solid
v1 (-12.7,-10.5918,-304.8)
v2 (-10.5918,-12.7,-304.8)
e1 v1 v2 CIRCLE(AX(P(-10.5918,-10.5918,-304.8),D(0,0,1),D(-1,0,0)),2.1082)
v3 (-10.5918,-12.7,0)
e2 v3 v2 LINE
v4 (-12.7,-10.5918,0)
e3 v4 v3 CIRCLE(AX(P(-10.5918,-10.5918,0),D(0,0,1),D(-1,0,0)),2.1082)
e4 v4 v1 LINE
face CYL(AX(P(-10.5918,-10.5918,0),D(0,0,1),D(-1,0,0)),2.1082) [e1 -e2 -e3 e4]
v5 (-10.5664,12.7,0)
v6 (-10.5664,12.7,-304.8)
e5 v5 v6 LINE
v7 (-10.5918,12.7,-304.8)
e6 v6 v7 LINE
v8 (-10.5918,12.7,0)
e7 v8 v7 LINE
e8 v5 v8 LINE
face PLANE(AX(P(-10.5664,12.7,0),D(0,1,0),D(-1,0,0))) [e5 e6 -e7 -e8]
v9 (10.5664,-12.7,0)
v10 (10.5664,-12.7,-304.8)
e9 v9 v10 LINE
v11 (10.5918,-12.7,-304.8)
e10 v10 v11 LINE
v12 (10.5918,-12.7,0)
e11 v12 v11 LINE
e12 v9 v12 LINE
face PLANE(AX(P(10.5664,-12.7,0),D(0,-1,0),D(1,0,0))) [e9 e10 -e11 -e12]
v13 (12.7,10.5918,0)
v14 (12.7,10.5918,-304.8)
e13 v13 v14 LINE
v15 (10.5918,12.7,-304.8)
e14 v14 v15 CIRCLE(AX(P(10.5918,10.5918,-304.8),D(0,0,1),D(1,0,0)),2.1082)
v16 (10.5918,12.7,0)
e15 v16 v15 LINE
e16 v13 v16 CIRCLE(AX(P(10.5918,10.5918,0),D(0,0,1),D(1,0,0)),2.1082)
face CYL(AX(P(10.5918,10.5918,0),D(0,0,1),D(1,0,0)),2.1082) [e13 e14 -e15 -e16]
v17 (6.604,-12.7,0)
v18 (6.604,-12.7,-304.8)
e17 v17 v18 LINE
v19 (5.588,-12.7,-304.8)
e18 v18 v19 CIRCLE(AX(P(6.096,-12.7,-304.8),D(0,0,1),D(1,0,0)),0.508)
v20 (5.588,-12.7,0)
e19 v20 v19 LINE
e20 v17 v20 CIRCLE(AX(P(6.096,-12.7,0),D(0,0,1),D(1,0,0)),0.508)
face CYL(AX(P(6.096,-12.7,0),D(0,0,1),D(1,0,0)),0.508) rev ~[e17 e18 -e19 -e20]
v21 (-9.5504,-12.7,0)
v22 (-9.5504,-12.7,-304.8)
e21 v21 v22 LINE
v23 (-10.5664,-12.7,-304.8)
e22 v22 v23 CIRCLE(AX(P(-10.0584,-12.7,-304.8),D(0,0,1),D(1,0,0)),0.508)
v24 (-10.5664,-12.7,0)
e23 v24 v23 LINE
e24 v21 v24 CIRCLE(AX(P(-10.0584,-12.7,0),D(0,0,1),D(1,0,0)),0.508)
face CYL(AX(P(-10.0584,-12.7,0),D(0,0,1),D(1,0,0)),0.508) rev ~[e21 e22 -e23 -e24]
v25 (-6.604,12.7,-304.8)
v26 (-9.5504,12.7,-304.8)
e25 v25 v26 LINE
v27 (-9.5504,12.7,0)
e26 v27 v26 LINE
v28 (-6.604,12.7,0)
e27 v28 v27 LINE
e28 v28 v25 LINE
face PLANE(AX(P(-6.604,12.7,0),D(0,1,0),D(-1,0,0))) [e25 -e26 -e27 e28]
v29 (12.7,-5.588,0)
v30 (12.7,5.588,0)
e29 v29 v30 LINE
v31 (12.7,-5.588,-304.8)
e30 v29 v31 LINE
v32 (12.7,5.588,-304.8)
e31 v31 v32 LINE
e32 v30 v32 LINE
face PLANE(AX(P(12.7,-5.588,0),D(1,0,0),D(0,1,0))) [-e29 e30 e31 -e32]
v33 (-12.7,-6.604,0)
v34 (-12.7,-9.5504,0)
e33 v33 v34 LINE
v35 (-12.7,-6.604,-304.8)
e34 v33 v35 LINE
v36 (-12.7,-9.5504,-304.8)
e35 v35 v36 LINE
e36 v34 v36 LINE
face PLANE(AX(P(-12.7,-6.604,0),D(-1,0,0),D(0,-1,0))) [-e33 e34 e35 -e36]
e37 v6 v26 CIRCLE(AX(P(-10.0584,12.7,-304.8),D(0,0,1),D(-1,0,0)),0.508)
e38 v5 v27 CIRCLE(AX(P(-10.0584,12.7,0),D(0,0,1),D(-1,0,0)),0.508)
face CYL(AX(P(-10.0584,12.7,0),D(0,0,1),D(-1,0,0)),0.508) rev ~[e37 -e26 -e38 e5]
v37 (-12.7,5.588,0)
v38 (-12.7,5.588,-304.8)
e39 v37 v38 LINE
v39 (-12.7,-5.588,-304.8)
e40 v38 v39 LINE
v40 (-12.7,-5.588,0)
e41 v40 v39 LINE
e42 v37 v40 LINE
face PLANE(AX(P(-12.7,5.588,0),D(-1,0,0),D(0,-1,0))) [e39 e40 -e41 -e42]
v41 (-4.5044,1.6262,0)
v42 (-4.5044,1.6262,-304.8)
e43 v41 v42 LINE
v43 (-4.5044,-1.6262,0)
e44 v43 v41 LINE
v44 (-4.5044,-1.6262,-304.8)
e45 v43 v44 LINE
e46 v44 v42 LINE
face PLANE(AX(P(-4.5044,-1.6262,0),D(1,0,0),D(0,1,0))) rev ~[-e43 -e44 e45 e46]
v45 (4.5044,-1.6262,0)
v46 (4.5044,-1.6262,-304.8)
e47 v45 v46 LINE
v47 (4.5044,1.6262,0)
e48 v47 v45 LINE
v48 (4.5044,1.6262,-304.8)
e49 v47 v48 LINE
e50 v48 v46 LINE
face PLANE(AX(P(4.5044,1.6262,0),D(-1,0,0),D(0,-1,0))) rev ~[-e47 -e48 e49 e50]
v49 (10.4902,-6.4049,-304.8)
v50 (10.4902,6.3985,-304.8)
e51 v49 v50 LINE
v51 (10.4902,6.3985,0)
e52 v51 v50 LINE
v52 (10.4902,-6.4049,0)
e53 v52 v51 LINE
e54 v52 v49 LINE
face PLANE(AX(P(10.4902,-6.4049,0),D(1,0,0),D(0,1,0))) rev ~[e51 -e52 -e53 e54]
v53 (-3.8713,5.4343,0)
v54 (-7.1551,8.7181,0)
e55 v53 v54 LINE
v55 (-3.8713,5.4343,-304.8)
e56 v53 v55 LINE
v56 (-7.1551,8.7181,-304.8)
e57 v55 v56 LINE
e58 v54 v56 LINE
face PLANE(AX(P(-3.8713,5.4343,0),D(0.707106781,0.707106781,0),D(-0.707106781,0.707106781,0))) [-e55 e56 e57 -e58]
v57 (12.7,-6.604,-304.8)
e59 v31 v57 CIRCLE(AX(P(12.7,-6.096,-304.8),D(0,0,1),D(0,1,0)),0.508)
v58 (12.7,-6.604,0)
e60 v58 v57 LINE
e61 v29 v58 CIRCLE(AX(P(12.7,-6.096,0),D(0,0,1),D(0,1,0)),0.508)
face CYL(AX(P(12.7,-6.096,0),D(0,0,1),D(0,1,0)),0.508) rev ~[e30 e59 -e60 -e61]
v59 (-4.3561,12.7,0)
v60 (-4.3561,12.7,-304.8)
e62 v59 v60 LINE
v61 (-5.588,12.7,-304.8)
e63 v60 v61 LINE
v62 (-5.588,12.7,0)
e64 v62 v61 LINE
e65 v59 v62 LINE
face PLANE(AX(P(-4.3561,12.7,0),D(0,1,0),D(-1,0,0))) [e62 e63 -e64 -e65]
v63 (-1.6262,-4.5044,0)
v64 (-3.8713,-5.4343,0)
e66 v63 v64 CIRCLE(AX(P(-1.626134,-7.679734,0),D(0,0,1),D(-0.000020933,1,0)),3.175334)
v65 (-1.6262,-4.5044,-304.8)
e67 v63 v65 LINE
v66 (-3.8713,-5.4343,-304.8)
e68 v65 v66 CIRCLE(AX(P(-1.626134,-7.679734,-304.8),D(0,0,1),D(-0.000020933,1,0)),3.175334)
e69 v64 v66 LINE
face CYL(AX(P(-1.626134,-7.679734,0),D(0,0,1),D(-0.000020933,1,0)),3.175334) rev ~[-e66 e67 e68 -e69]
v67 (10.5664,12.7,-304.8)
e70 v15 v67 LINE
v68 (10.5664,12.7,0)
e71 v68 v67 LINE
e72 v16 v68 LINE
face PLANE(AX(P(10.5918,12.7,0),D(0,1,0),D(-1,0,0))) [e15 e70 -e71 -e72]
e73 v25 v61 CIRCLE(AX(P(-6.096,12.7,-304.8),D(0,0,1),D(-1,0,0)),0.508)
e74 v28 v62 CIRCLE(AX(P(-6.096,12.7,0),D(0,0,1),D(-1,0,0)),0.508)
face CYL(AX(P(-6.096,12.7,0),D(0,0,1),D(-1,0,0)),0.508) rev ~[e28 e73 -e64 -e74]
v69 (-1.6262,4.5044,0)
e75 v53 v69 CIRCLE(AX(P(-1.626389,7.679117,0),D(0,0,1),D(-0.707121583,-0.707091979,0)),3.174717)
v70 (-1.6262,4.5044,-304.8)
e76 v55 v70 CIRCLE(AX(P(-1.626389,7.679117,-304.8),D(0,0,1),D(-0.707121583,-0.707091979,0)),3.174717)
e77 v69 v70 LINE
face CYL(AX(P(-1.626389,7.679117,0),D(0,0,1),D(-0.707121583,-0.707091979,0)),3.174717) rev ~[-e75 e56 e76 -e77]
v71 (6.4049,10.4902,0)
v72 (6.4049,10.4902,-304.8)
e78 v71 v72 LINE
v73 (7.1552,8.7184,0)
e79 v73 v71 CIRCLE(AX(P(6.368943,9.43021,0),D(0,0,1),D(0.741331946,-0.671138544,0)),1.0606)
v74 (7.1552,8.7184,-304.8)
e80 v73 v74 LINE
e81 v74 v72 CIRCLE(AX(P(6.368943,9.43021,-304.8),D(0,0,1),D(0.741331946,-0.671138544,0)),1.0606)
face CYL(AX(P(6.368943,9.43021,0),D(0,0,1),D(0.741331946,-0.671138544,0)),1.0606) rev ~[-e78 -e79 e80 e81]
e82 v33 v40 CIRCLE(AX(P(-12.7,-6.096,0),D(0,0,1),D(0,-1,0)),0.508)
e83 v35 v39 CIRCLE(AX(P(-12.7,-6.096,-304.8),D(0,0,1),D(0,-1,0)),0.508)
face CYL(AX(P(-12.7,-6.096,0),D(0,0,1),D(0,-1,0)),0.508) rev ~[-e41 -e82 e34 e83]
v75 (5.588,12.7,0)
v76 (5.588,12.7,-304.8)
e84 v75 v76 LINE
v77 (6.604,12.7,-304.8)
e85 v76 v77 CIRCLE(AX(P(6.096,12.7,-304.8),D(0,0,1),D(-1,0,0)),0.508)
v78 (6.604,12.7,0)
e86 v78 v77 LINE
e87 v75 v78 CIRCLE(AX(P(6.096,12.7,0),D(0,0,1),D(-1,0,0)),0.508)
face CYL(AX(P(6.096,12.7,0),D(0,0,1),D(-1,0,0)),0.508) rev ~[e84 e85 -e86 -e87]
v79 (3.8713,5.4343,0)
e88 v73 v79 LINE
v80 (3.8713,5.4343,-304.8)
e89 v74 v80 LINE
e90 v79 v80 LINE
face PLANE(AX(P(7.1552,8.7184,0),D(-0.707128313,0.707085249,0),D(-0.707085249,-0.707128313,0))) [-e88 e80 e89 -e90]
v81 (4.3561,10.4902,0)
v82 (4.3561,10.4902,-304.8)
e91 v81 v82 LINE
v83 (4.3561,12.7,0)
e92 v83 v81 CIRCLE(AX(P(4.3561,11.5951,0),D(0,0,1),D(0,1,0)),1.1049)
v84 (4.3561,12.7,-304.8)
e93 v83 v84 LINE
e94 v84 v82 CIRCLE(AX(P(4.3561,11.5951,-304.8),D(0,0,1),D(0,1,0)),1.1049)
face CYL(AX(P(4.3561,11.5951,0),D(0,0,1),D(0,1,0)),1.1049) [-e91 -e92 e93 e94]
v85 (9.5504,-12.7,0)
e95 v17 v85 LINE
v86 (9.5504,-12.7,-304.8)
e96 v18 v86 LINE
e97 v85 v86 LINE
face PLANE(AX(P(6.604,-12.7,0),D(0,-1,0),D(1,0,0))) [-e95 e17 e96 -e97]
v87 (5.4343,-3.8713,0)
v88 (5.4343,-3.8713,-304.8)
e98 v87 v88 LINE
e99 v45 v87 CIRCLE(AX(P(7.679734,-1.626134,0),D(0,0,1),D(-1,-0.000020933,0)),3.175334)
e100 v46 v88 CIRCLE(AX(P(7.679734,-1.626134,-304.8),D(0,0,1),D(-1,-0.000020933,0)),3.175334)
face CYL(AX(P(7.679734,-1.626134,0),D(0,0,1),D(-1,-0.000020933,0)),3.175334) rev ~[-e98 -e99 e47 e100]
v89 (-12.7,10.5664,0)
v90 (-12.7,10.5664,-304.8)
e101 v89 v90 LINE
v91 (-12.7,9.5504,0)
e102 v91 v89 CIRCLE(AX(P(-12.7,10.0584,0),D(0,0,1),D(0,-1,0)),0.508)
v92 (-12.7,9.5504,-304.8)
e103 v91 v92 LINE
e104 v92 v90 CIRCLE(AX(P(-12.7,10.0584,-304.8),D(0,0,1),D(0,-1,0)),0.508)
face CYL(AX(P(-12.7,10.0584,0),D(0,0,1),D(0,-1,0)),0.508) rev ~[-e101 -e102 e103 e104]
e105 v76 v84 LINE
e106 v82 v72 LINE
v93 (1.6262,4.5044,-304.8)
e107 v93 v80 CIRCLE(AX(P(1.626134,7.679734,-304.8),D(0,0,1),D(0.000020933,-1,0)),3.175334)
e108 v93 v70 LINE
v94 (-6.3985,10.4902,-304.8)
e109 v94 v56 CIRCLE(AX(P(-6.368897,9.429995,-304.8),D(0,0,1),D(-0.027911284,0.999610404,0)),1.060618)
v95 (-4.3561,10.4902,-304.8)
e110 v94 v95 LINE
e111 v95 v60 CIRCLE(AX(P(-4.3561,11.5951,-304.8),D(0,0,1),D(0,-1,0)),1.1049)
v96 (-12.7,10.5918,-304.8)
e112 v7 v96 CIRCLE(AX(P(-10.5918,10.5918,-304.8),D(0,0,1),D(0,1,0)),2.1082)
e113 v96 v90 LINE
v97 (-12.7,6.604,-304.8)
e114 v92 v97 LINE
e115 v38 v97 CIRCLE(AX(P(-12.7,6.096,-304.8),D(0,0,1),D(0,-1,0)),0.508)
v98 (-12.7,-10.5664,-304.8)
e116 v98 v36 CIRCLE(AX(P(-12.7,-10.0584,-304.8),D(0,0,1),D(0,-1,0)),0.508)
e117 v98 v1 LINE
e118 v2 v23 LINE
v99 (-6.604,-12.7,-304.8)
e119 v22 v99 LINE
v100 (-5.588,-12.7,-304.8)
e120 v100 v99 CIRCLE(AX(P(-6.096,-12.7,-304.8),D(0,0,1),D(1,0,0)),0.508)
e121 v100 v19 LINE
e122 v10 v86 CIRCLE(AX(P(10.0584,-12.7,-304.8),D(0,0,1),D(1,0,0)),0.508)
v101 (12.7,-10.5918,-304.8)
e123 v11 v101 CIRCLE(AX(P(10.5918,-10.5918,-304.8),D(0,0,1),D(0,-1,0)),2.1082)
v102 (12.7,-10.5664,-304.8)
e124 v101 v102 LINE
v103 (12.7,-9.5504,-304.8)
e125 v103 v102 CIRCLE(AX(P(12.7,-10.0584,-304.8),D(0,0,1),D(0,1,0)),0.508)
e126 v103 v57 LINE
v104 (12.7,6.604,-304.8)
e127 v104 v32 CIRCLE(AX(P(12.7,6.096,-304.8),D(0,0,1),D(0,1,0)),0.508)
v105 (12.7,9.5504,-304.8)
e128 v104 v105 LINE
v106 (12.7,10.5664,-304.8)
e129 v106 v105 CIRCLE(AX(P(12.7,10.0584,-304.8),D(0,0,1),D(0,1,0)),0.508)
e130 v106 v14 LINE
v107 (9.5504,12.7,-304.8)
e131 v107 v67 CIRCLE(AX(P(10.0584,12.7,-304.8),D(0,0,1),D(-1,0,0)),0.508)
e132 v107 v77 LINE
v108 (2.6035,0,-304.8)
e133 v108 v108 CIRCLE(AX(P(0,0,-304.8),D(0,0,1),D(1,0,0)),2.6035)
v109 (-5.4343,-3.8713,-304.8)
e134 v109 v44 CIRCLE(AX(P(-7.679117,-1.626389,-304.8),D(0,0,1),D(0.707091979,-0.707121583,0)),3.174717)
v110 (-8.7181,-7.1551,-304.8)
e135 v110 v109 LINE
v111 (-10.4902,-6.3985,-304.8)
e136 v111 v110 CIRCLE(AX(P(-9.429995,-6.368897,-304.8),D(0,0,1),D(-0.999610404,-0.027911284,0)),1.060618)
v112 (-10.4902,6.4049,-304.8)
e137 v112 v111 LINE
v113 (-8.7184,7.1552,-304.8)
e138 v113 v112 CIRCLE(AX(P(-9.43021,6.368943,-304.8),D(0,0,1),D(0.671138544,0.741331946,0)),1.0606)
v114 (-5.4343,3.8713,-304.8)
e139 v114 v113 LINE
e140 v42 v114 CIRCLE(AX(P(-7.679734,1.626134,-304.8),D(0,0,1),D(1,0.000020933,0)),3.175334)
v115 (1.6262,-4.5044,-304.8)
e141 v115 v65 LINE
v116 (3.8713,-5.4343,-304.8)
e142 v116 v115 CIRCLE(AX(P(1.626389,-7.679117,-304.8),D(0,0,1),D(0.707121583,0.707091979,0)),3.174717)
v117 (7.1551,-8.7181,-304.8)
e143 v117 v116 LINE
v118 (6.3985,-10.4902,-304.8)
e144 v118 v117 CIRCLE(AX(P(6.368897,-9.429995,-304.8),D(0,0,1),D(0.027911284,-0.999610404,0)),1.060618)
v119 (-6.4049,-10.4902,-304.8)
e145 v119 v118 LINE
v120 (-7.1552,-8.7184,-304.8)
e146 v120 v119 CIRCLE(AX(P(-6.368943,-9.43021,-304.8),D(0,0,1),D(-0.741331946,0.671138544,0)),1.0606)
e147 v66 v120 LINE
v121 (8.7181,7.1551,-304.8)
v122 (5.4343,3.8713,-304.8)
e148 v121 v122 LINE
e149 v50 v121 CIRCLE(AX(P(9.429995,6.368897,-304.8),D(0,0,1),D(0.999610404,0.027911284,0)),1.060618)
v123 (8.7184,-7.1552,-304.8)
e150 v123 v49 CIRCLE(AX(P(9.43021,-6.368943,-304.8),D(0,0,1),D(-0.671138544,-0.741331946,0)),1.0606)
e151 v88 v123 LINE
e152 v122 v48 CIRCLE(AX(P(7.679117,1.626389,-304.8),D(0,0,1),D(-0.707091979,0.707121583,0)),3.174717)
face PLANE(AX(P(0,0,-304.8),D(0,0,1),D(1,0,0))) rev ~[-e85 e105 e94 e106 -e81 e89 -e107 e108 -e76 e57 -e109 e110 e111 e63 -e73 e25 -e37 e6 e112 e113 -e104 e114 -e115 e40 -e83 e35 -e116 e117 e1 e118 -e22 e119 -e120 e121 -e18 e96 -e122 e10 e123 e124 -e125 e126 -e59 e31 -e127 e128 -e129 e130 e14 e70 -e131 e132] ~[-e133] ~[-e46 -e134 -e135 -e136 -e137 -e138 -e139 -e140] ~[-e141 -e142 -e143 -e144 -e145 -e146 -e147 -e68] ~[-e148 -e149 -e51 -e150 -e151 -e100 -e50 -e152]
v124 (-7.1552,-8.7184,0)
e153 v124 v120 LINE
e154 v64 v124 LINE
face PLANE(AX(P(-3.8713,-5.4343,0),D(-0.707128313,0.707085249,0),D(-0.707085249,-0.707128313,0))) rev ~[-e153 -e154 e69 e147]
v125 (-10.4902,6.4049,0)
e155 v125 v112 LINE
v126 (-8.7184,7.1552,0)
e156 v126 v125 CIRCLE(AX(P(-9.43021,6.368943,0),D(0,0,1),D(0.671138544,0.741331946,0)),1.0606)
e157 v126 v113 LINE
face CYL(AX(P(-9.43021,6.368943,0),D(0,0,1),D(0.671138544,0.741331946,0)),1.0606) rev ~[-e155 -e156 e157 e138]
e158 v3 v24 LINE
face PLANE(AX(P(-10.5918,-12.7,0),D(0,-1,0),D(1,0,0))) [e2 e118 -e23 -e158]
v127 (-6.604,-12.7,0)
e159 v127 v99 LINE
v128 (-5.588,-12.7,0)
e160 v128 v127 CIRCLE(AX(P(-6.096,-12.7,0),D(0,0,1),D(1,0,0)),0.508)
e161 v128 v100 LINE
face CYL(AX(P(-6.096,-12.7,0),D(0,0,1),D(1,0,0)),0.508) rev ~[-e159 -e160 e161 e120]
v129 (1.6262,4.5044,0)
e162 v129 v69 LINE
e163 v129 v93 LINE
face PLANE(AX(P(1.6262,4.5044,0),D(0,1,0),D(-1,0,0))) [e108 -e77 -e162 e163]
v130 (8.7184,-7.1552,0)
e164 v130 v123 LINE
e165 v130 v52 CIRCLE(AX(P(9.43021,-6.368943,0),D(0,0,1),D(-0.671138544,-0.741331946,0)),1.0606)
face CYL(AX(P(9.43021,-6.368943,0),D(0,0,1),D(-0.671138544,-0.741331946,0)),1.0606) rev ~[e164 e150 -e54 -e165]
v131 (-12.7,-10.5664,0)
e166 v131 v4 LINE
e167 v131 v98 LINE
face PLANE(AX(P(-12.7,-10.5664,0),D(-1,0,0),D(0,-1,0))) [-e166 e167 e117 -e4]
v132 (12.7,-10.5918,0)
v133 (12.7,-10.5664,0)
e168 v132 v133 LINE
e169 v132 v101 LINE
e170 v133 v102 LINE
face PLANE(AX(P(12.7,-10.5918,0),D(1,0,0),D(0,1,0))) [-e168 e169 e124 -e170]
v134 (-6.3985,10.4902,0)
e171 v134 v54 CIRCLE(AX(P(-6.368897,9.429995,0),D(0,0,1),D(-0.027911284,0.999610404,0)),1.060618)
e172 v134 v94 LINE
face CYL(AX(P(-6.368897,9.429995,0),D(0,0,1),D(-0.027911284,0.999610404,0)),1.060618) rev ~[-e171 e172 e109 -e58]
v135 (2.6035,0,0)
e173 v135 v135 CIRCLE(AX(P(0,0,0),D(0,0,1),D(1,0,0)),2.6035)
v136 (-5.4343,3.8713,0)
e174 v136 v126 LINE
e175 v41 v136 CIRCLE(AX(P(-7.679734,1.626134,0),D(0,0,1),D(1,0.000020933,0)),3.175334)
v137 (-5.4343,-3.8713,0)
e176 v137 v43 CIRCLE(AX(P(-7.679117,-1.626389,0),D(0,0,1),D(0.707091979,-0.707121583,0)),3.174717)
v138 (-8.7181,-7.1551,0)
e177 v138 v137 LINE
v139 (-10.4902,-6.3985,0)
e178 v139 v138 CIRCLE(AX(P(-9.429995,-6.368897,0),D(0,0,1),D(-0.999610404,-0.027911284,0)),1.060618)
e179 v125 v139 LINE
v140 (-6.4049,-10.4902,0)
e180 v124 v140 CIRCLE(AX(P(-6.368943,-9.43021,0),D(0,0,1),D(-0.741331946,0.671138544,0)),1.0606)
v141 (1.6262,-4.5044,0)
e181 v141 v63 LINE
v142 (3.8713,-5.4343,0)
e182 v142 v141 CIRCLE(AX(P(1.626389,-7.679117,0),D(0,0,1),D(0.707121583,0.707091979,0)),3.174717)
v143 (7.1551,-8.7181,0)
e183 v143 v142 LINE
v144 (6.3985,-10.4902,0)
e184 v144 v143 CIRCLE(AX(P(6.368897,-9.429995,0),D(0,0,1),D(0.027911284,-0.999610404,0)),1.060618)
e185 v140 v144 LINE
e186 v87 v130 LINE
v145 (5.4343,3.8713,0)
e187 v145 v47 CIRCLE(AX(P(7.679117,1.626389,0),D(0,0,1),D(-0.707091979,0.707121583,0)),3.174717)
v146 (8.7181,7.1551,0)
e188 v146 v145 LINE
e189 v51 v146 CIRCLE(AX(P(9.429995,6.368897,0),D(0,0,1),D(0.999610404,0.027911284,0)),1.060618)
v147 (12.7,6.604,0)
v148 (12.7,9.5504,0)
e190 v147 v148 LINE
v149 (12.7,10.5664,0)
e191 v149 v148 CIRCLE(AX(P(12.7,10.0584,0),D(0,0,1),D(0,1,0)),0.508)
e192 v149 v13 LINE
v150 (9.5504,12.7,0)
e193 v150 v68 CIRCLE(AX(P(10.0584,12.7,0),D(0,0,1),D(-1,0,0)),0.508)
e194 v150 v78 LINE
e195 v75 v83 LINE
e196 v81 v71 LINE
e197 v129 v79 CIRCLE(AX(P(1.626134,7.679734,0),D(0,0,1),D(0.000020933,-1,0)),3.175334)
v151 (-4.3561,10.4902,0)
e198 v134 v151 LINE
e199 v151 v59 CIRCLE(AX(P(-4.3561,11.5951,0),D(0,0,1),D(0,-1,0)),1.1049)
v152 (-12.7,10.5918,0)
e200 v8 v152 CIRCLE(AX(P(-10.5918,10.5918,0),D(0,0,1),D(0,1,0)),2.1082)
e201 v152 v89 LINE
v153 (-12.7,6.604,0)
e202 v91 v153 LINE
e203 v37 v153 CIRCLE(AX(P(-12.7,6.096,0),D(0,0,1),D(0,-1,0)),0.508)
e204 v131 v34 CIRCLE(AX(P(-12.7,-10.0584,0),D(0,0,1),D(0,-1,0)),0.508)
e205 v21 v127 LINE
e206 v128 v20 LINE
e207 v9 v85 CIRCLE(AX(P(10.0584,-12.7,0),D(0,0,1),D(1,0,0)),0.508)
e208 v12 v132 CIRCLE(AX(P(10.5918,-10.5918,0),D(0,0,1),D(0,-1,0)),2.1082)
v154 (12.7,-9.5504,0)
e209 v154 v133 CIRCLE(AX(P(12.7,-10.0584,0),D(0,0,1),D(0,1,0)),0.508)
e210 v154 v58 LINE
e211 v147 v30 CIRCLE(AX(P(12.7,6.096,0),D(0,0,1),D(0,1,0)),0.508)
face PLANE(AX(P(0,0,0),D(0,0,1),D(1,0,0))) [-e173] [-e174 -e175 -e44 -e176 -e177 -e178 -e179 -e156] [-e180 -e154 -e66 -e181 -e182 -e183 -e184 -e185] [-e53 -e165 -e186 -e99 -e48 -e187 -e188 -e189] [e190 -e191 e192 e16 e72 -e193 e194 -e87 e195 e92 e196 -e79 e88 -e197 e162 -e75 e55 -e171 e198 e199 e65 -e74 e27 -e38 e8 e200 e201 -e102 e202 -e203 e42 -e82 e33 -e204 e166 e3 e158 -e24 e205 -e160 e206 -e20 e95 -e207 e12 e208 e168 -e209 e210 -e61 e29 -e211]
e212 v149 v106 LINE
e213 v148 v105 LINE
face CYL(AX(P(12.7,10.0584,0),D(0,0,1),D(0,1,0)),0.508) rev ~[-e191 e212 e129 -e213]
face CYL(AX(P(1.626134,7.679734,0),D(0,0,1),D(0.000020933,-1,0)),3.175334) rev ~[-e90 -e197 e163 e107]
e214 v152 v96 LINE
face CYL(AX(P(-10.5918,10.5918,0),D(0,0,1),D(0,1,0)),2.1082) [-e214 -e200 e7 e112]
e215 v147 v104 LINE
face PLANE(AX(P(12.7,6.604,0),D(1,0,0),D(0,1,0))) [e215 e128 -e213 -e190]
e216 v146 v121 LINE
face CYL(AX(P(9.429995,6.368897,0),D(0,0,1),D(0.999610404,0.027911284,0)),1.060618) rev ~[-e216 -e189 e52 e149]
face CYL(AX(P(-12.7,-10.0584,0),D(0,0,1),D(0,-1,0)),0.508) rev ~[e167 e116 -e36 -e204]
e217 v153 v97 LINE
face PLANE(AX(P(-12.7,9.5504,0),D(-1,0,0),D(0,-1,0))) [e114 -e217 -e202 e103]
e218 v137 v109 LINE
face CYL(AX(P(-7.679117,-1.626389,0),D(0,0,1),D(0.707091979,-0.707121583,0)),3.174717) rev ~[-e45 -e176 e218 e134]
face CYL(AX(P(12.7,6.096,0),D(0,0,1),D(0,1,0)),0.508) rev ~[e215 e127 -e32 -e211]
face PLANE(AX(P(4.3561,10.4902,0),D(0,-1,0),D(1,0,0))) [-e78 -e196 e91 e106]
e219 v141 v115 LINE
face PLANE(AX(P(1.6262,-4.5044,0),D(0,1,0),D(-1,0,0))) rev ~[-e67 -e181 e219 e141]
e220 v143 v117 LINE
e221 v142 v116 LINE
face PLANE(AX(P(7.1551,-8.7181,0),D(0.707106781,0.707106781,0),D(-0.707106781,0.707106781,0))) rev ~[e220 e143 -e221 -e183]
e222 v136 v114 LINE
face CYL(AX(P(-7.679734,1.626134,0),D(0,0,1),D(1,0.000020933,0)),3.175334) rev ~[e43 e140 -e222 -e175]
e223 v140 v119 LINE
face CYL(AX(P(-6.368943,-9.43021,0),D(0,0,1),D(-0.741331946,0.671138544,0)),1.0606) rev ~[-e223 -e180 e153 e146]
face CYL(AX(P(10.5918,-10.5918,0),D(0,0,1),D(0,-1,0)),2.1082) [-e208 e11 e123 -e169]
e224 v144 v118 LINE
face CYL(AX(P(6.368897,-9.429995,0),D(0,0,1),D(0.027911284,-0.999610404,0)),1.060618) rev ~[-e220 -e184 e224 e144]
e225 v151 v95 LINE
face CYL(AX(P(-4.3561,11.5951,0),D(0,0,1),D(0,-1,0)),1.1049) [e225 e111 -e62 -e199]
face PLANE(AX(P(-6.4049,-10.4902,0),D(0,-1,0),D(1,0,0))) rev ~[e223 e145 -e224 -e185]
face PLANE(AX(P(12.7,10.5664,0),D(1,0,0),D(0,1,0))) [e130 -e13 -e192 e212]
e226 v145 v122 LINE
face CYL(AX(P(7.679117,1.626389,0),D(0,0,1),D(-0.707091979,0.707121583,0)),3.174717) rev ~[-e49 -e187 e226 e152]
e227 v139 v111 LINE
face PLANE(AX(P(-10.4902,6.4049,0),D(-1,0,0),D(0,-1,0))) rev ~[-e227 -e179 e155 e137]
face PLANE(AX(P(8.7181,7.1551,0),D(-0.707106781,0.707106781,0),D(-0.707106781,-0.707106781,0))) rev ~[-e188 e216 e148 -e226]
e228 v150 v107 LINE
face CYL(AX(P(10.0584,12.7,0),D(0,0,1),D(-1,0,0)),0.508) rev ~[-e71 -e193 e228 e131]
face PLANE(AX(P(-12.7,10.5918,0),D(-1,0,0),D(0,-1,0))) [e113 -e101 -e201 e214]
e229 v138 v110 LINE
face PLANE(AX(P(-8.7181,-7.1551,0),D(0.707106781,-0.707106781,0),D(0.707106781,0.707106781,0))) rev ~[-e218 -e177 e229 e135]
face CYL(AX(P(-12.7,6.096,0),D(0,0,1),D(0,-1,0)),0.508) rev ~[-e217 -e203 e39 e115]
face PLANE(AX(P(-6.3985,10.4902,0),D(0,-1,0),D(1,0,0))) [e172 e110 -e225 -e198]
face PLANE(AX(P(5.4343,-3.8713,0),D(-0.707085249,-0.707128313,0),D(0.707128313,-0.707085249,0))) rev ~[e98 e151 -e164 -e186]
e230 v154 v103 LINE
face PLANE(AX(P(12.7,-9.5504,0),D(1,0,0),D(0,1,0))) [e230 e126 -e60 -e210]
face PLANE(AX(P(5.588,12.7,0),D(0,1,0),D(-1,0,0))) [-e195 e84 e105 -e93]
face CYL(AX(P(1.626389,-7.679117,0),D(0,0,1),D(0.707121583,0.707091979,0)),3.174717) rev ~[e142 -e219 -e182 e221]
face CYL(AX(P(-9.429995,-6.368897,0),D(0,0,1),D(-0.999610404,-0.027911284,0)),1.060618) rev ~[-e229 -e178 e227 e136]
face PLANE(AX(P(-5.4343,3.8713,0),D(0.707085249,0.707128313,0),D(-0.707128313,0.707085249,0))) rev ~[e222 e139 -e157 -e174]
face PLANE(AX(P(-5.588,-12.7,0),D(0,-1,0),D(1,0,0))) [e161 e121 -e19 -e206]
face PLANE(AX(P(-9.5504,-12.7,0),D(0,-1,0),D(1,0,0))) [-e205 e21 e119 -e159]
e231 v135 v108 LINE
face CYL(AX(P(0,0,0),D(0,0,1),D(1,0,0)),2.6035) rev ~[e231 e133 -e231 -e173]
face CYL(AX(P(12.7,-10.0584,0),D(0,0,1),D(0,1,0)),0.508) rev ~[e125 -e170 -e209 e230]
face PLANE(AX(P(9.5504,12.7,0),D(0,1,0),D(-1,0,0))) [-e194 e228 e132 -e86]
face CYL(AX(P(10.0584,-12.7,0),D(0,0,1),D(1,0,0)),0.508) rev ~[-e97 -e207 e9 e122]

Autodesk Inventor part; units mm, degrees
ref_plane "YZ Plane" through (0, 0, 0) normal (1, 0, 0) x (0, 1, 0)
ref_plane "XZ Plane" through (0, 0, 0) normal (0, 1, 0) x (-1, 0, 0)
ref_plane "XY Plane" through (0, 0, 0) normal (0, 0, 1) x (1, 0, 0)
sketch "Sketch1" plane through (0, 0, 0) normal (0, 0, 1) x (1, 0, 0)
  arc A0 (-1.6262, -4.5044) -> (-3.8713, -5.4343) centre (-1.6262, -7.6794) ccw
  line L0 (1.6262, -4.5044) -> (-1.6262, -4.5044)
  arc A1 (3.8713, -5.4343) -> (1.6262, -4.5044) centre (1.6262, -7.6794) ccw
  line L1 (7.1551, -8.7181) -> (3.8713, -5.4343)
  arc A2 (6.3985, -10.4902) -> (7.1551, -8.7181) centre (6.3689, -9.43) ccw
  line L2 (-6.4049, -10.4902) -> (6.3985, -10.4902)
  arc A3 (-7.1552, -8.7184) -> (-6.4049, -10.4902) centre (-6.369, -9.4302) ccw
  line L3 (-3.8713, -5.4343) -> (-7.1552, -8.7184)
  circle A4 centre (0, 0) radius 2.6035
  arc A5 (-4.5044, 1.6262) -> (-5.4343, 3.8713) centre (-7.6794, 1.6262) ccw
  line L4 (-4.5044, -1.6262) -> (-4.5044, 1.6262)
  arc A6 (-5.4343, -3.8713) -> (-4.5044, -1.6262) centre (-7.6794, -1.6262) ccw
  line L5 (-8.7181, -7.1551) -> (-5.4343, -3.8713)
  arc A7 (-10.4902, -6.3985) -> (-8.7181, -7.1551) centre (-9.43, -6.3689) ccw
  line L6 (-10.4902, 6.4049) -> (-10.4902, -6.3985)
  arc A8 (-8.7184, 7.1552) -> (-10.4902, 6.4049) centre (-9.4302, 6.369) ccw
  line L7 (-5.4343, 3.8713) -> (-8.7184, 7.1552)
  arc A9 (8.7184, -7.1552) -> (10.4902, -6.4049) centre (9.4302, -6.369) ccw
  line L8 (5.4343, -3.8713) -> (8.7184, -7.1552)
  arc A10 (4.5044, -1.6262) -> (5.4343, -3.8713) centre (7.6794, -1.6262) ccw
  line L9 (4.5044, 1.6262) -> (4.5044, -1.6262)
  arc A11 (5.4343, 3.8713) -> (4.5044, 1.6262) centre (7.6794, 1.6262) ccw
  line L10 (8.7181, 7.1551) -> (5.4343, 3.8713)
  arc A12 (10.4902, 6.3985) -> (8.7181, 7.1551) centre (9.43, 6.3689) ccw
  line L11 (10.4902, -6.4049) -> (10.4902, 6.3985)
  arc A13 (12.7, -9.5504) -> (12.7, -10.5664) centre (12.7, -10.0584) ccw
  line L12 (12.7, -9.5504) -> (12.7, -6.604)
  arc A14 (12.7, -5.588) -> (12.7, -6.604) centre (12.7, -6.096) ccw
  line L13 (12.7, -5.588) -> (12.7, 5.588)
  arc A15 (12.7, 6.604) -> (12.7, 5.588) centre (12.7, 6.096) ccw
  line L14 (12.7, 6.604) -> (12.7, 9.5504)
  arc A16 (12.7, 10.5664) -> (12.7, 9.5504) centre (12.7, 10.0584) ccw
  line L15 (12.7, 10.5664) -> (12.7, 10.5918)
  arc A17 (12.7, 10.5918) -> (10.5918, 12.7) centre (10.5918, 10.5918) ccw
  line L16 (10.5918, 12.7) -> (10.5664, 12.7)
  arc A18 (9.5504, 12.7) -> (10.5664, 12.7) centre (10.0584, 12.7) ccw
  line L17 (9.5504, 12.7) -> (6.604, 12.7)
  arc A19 (5.588, 12.7) -> (6.604, 12.7) centre (6.096, 12.7) ccw
  line L18 (5.588, 12.7) -> (4.3561, 12.7)
  arc A20 (4.3561, 12.7) -> (4.3561, 10.4902) centre (4.3561, 11.5951) ccw
  line L19 (4.3561, 10.4902) -> (6.4049, 10.4902)
  arc A21 (7.1552, 8.7184) -> (6.4049, 10.4902) centre (6.369, 9.4302) ccw
  line L20 (7.1552, 8.7184) -> (3.8713, 5.4343)
  arc A22 (1.6262, 4.5044) -> (3.8713, 5.4343) centre (1.6262, 7.6794) ccw
  line L21 (1.6262, 4.5044) -> (-1.6262, 4.5044)
  arc A23 (-3.8713, 5.4343) -> (-1.6262, 4.5044) centre (-1.6262, 7.6794) ccw
  line L22 (-3.8713, 5.4343) -> (-7.1551, 8.7181)
  arc A24 (-6.3985, 10.4902) -> (-7.1551, 8.7181) centre (-6.3689, 9.43) ccw
  line L23 (-6.3985, 10.4902) -> (-4.3561, 10.4902)
  arc A25 (-4.3561, 10.4902) -> (-4.3561, 12.7) centre (-4.3561, 11.5951) ccw
  line L24 (-4.3561, 12.7) -> (-5.588, 12.7)
  arc A26 (-6.604, 12.7) -> (-5.588, 12.7) centre (-6.096, 12.7) ccw
  line L25 (-6.604, 12.7) -> (-9.5504, 12.7)
  arc A27 (-10.5664, 12.7) -> (-9.5504, 12.7) centre (-10.0584, 12.7) ccw
  line L26 (-10.5664, 12.7) -> (-10.5918, 12.7)
  arc A28 (-10.5918, 12.7) -> (-12.7, 10.5918) centre (-10.5918, 10.5918) ccw
  line L27 (-12.7, 10.5918) -> (-12.7, 10.5664)
  arc A29 (-12.7, 9.5504) -> (-12.7, 10.5664) centre (-12.7, 10.0584) ccw
  line L28 (-12.7, 9.5504) -> (-12.7, 6.604)
  arc A30 (-12.7, 5.588) -> (-12.7, 6.604) centre (-12.7, 6.096) ccw
  line L29 (-12.7, 5.588) -> (-12.7, -5.588)
  arc A31 (-12.7, -6.604) -> (-12.7, -5.588) centre (-12.7, -6.096) ccw
  line L30 (-12.7, -6.604) -> (-12.7, -9.5504)
  arc A32 (-12.7, -10.5664) -> (-12.7, -9.5504) centre (-12.7, -10.0584) ccw
  line L31 (-12.7, -10.5664) -> (-12.7, -10.5918)
  arc A33 (-12.7, -10.5918) -> (-10.5918, -12.7) centre (-10.5918, -10.5918) ccw
  line L32 (-10.5918, -12.7) -> (-10.5664, -12.7)
  arc A34 (-9.5504, -12.7) -> (-10.5664, -12.7) centre (-10.0584, -12.7) ccw
  line L33 (-9.5504, -12.7) -> (-6.604, -12.7)
  arc A35 (-5.588, -12.7) -> (-6.604, -12.7) centre (-6.096, -12.7) ccw
  line L34 (-5.588, -12.7) -> (5.588, -12.7)
  arc A36 (6.604, -12.7) -> (5.588, -12.7) centre (6.096, -12.7) ccw
  line L35 (6.604, -12.7) -> (9.5504, -12.7)
  arc A37 (10.5664, -12.7) -> (9.5504, -12.7) centre (10.0584, -12.7) ccw
  line L36 (10.5664, -12.7) -> (10.5918, -12.7)
  arc A38 (10.5918, -12.7) -> (12.7, -10.5918) centre (10.5918, -10.5918) ccw
  line L37 (12.7, -10.5918) -> (12.7, -10.5664)
extrude "Extrusion1" add sketch "Sketch1" against normal blind 304.8
properties part number "1001"
